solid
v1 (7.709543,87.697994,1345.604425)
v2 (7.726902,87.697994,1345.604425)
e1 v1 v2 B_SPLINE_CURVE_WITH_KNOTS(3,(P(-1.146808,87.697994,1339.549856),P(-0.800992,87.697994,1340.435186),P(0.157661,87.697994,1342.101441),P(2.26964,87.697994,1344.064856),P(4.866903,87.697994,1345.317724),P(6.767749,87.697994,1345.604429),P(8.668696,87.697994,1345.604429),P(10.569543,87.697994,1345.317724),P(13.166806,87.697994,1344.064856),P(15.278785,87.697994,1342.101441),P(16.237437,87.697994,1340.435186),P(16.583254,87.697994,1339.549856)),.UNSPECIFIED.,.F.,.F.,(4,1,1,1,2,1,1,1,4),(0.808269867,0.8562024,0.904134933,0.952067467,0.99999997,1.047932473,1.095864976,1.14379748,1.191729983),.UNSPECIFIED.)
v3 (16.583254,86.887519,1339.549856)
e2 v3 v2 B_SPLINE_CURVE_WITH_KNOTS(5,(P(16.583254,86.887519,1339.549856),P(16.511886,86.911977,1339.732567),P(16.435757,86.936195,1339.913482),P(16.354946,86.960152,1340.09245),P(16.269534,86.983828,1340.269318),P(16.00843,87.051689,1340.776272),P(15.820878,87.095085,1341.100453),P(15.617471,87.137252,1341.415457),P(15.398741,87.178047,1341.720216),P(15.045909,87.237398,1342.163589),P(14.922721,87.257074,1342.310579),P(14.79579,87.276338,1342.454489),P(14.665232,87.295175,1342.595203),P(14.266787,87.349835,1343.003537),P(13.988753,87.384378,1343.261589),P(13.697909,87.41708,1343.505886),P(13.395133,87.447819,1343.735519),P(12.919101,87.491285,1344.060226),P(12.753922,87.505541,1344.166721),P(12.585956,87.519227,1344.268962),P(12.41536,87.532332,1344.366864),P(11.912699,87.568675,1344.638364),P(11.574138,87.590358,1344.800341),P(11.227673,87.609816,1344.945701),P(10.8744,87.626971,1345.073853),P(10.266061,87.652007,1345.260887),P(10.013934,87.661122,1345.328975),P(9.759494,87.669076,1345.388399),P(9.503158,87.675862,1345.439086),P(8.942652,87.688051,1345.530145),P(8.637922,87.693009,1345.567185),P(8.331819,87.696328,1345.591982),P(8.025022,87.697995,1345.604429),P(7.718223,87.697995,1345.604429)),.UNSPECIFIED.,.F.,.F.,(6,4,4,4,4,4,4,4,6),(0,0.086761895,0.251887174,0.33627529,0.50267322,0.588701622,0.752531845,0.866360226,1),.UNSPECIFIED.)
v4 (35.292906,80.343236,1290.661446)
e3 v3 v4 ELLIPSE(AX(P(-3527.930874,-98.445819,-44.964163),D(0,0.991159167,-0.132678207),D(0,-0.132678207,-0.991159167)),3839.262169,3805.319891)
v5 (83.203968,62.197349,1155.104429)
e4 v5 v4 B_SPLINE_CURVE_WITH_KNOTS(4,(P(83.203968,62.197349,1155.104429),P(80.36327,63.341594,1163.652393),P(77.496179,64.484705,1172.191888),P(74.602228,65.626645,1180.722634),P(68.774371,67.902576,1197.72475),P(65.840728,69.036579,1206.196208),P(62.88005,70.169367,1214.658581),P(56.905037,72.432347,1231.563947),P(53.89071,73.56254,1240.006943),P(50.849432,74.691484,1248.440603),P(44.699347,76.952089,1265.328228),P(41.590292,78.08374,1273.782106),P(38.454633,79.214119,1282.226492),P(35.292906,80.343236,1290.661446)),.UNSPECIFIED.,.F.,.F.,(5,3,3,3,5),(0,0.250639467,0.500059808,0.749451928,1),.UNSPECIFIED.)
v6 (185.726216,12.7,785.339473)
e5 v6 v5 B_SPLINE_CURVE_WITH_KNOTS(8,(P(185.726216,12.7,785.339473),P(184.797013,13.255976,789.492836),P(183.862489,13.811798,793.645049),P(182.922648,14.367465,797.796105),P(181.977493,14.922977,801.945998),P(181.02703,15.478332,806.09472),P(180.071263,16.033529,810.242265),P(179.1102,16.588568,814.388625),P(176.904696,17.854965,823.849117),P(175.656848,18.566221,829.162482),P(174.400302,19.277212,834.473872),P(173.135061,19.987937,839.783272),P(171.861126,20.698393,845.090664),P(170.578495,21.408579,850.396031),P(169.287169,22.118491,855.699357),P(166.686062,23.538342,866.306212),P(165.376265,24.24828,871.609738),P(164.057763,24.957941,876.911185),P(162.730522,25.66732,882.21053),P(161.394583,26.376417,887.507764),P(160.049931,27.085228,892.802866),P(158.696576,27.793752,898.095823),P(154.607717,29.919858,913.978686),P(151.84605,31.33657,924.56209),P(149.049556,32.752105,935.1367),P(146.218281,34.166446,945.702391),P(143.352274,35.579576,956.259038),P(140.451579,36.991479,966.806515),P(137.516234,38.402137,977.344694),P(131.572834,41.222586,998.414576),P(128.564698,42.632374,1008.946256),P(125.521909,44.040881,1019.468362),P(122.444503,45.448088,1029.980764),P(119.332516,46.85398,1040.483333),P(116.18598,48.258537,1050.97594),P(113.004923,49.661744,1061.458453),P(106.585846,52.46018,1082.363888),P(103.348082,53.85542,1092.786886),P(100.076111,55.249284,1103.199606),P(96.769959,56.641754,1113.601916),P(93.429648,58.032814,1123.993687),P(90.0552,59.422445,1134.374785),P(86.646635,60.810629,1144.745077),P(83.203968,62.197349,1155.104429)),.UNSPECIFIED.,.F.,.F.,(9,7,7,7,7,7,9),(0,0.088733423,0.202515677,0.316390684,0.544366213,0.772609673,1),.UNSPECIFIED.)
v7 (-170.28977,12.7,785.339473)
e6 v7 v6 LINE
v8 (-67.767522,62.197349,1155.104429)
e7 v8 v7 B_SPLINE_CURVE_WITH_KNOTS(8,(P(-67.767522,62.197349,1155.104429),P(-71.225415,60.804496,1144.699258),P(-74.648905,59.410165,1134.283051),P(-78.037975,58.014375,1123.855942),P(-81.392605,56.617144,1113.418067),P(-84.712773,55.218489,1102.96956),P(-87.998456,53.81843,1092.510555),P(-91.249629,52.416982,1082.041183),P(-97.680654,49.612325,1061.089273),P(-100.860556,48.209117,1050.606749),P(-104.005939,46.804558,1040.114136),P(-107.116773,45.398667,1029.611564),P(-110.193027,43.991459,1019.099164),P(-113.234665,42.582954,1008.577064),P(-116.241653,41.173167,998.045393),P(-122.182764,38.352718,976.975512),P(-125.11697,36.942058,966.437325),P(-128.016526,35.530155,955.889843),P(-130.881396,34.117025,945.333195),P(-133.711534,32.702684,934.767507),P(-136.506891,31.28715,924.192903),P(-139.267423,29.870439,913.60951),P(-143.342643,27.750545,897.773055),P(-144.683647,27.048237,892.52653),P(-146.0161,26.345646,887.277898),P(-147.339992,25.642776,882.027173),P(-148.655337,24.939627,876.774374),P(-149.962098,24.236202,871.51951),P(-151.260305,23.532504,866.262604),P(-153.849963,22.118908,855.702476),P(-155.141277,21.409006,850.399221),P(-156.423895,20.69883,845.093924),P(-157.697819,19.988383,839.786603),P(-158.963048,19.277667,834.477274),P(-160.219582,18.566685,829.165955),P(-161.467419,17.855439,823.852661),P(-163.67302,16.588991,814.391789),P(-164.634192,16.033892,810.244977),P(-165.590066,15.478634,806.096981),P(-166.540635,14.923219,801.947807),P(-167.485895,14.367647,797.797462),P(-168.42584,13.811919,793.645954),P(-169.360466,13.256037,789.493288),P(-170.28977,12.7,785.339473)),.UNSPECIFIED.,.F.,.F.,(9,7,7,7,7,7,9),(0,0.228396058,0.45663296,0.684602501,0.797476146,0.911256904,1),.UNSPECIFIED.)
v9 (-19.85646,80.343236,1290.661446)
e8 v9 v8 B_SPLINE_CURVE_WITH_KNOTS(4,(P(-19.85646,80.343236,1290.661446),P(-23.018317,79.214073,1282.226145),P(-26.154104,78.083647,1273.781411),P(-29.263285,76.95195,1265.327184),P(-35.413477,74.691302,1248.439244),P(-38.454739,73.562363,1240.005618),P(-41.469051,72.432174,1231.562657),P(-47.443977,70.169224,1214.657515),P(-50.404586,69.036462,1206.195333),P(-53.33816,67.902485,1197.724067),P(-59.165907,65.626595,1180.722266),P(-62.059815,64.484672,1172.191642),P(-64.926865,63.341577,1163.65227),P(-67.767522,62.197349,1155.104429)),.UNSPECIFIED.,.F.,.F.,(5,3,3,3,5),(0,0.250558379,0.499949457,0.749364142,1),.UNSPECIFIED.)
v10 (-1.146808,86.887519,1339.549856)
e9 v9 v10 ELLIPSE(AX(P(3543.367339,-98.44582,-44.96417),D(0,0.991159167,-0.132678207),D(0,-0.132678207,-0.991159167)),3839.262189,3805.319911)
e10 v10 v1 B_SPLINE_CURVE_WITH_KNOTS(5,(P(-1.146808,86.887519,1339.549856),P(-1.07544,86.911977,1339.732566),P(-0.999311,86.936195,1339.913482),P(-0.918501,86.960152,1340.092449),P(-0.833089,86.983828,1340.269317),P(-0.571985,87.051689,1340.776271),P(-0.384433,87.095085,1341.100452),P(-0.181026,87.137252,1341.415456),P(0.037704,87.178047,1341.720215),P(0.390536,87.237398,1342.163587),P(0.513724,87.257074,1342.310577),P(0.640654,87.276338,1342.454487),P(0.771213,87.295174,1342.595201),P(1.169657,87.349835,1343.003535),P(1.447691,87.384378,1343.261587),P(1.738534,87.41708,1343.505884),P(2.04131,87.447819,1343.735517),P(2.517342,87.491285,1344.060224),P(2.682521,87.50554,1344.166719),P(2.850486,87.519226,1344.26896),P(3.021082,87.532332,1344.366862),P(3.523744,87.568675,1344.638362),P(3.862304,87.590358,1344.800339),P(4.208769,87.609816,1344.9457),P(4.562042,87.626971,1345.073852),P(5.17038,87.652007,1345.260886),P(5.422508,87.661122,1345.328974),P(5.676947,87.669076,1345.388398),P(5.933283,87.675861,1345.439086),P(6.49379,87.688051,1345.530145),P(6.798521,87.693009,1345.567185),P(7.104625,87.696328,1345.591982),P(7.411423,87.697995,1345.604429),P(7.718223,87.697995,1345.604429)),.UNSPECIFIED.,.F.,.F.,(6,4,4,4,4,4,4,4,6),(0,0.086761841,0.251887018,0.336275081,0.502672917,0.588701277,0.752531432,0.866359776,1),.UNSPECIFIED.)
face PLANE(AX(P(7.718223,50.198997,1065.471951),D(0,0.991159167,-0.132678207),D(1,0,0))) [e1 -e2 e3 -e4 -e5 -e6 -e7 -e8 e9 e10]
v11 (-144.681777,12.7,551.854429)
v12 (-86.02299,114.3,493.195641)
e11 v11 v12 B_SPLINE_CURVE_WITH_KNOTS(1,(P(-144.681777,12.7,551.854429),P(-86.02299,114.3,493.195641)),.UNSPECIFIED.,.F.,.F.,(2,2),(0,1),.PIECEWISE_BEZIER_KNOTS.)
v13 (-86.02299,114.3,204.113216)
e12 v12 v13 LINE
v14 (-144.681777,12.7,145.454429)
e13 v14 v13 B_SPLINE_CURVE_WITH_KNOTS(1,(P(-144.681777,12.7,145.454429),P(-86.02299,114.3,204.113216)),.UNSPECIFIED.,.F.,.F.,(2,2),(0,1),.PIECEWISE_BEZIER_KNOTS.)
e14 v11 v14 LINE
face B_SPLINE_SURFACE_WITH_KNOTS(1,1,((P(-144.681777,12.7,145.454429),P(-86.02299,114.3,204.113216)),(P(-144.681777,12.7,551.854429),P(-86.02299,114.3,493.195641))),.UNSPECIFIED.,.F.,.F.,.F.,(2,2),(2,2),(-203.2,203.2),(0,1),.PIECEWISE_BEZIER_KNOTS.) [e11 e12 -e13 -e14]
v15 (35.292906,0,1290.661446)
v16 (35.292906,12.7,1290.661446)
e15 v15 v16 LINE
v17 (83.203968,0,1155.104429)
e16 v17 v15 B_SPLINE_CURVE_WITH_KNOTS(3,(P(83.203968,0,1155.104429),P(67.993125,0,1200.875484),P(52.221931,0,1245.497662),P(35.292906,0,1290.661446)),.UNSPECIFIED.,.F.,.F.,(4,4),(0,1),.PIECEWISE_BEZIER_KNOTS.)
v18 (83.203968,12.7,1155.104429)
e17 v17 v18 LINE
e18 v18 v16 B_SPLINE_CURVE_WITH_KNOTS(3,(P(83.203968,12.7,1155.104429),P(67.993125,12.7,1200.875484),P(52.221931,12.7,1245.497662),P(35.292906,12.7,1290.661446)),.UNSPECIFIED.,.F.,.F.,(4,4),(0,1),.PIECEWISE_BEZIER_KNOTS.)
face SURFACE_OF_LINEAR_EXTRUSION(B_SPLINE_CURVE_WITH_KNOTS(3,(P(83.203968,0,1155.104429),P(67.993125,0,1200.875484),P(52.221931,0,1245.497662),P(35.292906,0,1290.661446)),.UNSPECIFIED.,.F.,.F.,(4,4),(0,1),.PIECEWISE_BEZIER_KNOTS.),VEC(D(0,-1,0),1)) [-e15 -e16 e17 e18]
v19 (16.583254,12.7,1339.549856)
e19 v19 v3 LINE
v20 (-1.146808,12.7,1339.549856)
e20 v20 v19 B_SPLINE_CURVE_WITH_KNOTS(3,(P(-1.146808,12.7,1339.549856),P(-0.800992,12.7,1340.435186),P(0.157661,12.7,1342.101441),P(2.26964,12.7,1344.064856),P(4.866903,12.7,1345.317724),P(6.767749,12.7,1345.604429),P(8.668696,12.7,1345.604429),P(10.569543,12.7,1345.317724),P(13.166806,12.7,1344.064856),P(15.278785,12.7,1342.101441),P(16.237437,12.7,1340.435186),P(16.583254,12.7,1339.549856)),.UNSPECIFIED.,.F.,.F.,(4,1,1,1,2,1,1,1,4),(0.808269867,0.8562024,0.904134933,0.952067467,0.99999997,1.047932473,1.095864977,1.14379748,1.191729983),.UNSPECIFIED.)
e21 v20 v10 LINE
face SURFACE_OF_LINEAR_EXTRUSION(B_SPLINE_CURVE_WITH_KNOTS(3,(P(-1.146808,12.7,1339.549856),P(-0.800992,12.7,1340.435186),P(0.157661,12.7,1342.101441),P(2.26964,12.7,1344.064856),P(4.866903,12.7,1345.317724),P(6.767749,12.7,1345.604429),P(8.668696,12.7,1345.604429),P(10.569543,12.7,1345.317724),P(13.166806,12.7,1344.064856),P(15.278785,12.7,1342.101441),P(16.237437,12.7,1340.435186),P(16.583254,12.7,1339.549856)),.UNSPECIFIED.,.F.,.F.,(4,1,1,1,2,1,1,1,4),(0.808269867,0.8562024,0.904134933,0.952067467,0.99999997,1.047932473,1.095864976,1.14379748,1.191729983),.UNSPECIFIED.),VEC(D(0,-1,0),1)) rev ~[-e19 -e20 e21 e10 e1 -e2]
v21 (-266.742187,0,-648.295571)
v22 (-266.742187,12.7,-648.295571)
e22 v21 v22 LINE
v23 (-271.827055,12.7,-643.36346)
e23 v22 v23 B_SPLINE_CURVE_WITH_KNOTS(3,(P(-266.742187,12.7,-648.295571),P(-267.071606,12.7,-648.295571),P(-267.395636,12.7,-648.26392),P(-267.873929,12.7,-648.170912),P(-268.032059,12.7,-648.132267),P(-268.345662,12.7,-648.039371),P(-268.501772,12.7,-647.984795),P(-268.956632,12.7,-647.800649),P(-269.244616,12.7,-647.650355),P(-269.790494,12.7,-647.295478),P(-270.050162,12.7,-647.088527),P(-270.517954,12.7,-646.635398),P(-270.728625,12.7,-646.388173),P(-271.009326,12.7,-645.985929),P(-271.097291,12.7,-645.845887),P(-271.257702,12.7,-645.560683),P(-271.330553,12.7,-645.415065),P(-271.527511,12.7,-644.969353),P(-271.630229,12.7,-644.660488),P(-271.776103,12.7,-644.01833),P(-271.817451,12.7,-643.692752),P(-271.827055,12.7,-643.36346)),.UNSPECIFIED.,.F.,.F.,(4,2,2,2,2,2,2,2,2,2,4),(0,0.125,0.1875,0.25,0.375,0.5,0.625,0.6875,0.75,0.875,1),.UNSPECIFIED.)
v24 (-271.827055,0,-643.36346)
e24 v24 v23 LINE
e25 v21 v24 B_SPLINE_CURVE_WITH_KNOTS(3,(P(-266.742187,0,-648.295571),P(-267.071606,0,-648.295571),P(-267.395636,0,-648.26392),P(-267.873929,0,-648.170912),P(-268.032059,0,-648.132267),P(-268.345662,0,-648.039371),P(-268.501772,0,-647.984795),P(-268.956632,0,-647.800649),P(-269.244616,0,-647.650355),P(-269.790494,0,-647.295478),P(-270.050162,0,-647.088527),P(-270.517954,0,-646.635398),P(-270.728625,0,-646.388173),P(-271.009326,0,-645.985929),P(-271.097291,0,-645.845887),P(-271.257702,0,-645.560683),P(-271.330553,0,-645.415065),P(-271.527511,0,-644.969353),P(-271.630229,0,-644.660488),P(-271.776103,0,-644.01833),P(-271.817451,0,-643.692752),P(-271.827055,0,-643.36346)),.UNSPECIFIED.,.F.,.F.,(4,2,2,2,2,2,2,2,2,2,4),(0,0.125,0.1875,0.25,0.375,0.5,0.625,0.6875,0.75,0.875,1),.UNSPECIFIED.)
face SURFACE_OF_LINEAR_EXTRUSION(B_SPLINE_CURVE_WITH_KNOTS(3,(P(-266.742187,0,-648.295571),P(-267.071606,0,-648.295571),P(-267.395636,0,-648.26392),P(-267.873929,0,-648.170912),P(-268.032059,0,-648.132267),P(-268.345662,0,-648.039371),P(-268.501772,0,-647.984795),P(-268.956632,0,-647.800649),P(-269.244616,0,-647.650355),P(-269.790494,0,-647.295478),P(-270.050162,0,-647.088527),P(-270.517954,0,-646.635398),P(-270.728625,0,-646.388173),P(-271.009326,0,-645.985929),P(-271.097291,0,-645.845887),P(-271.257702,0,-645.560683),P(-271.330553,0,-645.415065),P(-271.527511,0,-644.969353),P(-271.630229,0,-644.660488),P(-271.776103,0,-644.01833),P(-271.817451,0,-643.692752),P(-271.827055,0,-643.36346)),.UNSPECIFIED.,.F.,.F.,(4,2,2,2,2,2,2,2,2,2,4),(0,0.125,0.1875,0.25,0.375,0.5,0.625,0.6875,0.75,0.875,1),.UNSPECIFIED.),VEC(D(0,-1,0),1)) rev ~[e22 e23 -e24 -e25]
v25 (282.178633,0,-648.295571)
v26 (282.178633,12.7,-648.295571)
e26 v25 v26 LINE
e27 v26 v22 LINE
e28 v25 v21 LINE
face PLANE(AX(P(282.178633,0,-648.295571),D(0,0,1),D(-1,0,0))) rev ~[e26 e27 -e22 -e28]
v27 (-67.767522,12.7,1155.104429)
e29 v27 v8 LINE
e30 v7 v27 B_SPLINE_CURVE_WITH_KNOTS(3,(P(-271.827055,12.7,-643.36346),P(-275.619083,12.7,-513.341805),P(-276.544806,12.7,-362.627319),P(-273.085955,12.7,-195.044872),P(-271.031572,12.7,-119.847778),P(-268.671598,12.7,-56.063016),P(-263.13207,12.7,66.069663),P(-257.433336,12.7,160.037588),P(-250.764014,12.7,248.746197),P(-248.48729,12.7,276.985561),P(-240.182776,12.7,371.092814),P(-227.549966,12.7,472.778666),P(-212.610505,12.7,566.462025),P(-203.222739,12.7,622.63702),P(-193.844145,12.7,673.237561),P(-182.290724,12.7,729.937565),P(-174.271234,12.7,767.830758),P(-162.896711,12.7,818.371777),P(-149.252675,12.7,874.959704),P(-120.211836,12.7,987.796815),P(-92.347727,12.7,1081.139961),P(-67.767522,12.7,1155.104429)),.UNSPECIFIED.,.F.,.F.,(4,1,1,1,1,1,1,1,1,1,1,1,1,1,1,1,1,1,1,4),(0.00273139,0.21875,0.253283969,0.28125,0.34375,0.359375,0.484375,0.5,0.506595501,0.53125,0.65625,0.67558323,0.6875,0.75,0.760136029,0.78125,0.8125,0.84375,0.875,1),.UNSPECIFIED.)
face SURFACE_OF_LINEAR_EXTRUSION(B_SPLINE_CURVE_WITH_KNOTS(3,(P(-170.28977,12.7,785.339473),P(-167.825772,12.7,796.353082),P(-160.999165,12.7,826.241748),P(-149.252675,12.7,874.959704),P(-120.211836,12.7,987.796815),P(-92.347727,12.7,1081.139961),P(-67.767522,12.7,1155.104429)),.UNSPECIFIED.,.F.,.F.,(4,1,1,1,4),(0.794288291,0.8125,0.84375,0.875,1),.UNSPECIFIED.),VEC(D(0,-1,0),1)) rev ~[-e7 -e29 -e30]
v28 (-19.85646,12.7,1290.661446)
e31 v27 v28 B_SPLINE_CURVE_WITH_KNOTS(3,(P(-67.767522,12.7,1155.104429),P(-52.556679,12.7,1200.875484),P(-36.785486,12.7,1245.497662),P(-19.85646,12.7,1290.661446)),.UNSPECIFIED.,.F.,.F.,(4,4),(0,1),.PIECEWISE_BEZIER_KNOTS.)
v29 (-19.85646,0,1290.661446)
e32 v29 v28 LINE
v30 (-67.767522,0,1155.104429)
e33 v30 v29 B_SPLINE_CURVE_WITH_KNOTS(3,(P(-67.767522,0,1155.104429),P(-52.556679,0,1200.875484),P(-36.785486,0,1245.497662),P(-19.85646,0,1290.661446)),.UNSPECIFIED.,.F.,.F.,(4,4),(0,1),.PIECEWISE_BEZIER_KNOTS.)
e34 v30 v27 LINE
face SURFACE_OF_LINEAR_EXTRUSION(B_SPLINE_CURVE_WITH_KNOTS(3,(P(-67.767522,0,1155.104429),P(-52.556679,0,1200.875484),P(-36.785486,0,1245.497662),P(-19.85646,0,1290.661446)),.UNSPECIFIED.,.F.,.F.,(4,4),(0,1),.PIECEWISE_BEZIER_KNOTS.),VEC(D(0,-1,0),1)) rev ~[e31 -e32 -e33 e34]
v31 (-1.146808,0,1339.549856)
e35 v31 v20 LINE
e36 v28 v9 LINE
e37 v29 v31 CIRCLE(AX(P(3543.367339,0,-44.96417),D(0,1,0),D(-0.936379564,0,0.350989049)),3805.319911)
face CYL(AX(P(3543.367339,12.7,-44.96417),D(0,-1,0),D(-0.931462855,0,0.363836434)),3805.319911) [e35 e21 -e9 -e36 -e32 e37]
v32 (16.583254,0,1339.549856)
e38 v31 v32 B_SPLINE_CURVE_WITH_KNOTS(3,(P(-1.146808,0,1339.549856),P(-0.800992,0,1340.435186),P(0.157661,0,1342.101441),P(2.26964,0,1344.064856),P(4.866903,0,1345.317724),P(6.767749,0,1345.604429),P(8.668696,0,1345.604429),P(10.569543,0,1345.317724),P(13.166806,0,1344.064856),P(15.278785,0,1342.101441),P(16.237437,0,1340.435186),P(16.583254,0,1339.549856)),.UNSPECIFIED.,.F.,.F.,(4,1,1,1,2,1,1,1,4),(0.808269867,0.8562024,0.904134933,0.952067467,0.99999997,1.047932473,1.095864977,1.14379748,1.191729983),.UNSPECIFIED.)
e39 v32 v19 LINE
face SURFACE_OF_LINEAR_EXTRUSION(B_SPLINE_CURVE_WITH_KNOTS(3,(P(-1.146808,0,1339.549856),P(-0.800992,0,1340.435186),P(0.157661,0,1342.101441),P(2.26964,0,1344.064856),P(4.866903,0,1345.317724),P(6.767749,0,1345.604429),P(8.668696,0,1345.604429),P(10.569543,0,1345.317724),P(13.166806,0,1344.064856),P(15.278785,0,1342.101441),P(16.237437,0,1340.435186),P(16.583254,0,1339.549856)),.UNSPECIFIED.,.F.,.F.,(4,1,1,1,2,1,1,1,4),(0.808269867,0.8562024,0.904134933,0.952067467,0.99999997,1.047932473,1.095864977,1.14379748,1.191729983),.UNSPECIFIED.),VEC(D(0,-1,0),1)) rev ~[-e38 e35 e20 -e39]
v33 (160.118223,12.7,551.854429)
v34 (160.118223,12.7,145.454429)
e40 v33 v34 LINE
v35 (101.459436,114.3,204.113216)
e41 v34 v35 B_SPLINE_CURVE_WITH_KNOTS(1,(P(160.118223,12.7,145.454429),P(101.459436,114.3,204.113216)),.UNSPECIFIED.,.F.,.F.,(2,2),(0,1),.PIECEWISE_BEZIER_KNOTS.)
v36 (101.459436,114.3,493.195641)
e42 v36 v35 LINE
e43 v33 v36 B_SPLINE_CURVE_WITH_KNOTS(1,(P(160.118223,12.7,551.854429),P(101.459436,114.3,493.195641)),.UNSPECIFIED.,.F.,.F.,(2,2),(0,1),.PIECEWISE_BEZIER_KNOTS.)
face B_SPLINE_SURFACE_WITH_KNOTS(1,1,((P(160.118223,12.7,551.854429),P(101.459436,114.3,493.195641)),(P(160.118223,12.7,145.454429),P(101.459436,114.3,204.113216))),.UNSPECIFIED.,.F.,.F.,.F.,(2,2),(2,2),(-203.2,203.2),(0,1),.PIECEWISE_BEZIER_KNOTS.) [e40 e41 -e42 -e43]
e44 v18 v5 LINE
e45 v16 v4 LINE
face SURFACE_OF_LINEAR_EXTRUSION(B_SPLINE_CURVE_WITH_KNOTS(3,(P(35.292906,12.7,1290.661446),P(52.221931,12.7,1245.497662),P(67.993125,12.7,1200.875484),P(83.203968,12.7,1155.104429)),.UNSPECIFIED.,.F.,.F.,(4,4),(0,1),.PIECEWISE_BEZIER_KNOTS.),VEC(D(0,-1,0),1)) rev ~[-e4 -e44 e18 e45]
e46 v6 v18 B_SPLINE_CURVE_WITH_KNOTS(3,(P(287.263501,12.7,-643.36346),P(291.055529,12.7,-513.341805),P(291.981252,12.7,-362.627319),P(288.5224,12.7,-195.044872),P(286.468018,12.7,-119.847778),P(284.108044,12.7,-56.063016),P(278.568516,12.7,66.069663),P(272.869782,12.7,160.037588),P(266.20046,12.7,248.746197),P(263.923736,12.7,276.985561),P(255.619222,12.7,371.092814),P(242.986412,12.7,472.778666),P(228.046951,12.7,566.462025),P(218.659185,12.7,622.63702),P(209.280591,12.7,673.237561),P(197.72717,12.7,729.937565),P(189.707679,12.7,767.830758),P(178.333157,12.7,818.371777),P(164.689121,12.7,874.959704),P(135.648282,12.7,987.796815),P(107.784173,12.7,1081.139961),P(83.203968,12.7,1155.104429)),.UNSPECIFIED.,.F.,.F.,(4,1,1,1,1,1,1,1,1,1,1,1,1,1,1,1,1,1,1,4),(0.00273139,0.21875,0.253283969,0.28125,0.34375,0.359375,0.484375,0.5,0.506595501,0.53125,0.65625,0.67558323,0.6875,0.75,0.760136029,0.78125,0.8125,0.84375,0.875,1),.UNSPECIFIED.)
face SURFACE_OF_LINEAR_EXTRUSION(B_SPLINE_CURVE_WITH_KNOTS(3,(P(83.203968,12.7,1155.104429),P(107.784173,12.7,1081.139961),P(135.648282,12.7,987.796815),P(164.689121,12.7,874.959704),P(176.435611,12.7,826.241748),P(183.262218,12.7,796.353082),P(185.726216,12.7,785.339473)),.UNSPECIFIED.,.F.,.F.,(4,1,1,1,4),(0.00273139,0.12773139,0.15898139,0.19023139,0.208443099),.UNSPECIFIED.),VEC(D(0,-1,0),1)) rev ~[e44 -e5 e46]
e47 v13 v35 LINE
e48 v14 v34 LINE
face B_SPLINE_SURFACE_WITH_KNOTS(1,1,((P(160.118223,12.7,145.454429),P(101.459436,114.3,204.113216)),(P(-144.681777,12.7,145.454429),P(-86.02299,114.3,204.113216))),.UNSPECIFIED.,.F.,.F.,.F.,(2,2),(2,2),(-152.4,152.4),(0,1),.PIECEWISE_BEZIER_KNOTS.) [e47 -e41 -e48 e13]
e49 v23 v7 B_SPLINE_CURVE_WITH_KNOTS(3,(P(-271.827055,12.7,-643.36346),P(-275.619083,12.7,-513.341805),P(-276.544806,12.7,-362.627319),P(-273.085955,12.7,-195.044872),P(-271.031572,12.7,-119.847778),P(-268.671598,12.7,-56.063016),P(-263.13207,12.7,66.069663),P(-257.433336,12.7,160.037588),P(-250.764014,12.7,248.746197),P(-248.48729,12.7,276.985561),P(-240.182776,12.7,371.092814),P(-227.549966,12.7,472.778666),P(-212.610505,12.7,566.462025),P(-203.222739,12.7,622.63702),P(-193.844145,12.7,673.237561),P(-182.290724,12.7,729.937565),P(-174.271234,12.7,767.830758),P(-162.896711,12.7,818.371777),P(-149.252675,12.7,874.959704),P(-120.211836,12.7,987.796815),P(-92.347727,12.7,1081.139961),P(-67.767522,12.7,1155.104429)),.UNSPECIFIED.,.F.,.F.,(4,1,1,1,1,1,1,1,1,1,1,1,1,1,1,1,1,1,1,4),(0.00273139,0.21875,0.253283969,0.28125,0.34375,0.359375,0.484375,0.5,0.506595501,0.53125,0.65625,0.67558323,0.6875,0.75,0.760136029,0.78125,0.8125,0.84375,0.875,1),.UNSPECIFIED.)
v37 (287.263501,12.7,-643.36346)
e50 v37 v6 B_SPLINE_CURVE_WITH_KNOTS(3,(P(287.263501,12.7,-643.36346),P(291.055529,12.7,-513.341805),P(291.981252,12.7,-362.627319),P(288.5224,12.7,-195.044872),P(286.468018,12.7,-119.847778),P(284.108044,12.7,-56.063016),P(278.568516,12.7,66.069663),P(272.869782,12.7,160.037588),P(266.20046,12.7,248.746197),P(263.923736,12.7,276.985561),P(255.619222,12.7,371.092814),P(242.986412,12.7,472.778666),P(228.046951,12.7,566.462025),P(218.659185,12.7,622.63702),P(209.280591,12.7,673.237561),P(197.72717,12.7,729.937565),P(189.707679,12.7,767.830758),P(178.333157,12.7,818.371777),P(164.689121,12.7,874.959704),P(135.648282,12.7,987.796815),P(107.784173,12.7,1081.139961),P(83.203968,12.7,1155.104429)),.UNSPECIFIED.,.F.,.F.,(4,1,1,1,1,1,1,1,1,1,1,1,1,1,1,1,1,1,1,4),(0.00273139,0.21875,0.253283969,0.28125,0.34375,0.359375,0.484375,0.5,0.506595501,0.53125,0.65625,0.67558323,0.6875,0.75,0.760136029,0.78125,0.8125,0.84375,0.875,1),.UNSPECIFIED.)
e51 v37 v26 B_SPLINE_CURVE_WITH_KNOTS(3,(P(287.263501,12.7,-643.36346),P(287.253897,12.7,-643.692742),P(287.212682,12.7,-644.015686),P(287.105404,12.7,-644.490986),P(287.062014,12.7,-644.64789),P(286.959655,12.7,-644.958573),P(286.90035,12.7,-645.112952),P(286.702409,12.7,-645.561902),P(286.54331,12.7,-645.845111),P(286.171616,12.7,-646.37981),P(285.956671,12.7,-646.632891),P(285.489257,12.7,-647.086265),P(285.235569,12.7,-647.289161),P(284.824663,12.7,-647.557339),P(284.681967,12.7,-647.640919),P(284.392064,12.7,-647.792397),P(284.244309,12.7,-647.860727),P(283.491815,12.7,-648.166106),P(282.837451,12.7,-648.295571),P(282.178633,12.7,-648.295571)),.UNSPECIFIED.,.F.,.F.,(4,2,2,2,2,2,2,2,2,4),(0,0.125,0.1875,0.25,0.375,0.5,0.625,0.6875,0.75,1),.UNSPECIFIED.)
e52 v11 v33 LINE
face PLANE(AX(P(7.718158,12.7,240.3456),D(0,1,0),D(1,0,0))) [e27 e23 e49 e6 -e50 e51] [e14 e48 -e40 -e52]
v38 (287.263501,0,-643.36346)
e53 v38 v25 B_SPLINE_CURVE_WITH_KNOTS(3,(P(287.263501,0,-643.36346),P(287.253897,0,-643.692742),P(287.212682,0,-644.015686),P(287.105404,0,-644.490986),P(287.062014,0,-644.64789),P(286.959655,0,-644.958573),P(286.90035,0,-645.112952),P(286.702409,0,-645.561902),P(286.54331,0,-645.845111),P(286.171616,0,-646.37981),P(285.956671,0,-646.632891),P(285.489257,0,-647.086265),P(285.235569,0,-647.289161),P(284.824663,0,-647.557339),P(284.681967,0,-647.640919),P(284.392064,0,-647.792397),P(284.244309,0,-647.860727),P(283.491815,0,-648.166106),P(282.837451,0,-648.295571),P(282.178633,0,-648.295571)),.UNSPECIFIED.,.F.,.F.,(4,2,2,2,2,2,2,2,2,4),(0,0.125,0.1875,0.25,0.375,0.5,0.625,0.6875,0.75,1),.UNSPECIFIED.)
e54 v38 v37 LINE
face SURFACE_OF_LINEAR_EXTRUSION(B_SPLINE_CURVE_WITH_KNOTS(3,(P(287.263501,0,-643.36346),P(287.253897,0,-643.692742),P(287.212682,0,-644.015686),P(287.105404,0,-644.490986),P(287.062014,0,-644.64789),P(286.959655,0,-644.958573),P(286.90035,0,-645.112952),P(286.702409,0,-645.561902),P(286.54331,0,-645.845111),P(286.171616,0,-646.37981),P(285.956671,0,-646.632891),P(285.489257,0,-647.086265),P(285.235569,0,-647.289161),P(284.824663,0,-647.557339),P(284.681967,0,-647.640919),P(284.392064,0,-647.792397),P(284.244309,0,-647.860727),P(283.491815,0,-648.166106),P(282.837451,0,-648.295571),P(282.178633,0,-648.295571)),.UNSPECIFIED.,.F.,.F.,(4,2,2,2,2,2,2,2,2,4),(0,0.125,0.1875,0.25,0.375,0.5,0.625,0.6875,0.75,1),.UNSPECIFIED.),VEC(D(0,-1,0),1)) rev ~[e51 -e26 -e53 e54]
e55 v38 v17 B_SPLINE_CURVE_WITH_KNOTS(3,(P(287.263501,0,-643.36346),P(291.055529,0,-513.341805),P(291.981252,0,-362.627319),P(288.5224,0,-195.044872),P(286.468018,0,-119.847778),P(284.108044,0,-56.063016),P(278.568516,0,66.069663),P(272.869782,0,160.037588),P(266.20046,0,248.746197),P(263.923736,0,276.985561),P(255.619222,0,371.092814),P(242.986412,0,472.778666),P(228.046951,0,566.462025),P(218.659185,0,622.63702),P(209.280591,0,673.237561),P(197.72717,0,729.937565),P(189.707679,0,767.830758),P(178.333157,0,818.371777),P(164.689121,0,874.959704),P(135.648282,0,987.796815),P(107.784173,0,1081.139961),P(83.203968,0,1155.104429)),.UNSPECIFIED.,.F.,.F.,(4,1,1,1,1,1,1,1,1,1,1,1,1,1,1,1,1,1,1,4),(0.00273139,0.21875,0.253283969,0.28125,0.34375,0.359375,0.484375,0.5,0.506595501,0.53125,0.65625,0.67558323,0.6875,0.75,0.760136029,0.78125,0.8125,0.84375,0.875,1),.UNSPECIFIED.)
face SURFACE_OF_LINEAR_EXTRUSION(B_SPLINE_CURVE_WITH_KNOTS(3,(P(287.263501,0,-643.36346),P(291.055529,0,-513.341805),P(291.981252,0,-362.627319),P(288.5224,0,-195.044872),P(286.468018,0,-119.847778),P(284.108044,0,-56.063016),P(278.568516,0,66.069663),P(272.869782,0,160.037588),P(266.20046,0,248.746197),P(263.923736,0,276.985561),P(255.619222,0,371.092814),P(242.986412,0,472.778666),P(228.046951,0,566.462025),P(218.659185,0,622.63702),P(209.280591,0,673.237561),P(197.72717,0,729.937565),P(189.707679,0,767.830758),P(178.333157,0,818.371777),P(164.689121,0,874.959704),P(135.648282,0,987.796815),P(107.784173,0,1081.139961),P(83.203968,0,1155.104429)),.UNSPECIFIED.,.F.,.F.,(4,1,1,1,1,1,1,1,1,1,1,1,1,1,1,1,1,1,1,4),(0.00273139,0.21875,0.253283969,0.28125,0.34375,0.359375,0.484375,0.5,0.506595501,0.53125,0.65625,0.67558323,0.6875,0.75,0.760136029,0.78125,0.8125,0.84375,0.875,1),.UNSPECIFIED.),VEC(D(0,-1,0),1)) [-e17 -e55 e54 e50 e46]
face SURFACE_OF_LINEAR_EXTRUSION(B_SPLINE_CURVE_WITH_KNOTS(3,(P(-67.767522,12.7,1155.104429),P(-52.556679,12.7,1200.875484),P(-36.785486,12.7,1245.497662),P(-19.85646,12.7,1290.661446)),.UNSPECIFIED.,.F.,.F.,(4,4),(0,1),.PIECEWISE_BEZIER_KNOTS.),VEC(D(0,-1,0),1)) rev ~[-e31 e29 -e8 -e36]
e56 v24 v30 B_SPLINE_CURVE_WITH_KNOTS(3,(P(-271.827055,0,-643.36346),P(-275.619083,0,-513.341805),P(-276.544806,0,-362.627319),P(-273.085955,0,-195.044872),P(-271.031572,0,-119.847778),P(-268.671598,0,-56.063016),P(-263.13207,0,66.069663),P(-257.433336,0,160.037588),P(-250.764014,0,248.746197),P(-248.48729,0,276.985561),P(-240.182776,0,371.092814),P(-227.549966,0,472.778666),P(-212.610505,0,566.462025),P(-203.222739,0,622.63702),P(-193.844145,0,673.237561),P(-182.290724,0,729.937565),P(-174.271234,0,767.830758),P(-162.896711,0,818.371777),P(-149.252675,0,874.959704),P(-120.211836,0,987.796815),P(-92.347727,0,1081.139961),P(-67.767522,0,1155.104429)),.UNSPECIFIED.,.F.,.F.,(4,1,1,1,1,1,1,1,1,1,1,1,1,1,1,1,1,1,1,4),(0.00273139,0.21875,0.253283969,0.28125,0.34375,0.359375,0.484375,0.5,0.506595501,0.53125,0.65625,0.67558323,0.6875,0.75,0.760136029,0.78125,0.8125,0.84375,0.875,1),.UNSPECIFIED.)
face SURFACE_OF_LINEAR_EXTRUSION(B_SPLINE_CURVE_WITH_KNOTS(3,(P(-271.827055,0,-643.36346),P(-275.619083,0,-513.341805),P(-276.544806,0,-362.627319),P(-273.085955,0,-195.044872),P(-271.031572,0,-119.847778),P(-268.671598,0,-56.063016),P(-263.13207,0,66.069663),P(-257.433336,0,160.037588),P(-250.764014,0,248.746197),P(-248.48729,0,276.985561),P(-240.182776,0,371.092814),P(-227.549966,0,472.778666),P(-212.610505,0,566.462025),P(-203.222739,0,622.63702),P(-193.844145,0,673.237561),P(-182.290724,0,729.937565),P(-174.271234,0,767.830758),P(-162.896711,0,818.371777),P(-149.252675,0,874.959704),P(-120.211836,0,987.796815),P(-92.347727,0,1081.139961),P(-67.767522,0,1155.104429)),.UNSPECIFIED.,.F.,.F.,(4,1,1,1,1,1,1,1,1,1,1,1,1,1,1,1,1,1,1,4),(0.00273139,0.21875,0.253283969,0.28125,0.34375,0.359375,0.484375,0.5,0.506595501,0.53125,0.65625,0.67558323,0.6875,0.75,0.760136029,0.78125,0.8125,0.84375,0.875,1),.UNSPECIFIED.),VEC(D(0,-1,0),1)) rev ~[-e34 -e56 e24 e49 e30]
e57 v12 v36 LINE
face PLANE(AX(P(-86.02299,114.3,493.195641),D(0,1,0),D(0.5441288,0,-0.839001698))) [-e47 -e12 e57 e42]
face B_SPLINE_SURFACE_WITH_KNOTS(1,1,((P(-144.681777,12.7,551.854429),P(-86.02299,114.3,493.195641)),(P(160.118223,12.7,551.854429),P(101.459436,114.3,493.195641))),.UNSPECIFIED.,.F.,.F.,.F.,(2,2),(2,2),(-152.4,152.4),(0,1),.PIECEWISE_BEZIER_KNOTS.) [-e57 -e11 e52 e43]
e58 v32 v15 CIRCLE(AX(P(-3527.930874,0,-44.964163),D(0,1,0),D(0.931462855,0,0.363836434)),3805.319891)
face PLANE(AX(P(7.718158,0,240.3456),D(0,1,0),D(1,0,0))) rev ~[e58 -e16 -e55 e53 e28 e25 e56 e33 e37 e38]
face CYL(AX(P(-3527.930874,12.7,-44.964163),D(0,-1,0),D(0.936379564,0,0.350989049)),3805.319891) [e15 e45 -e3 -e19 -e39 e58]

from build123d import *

# Parameters (mm, degrees)
BOSS_EXTRUDE1_DEPTH     = 12.7
SKETCH2_W               = 304.8
SKETCH2_H               = 406.4
BOSS_EXTRUDE2_DEPTH     = 101.6
BOSS_EXTRUDE2_TAPER     = 30
BOSS_EXTRUDE3_DEPTH     = 74.997994
SKETCH7_W               = 508
SKETCH7_H               = 565.262345734
CUT_EXTRUDE_THIN1_DEPTH = 88.9


with BuildPart() as part:
    # Sketch1 → Boss-Extrude1 (new body)
    with BuildSketch(Plane(origin=(0, 0, 0), x_dir=(1, 0, 0), z_dir=(0, 1, 0))):
        with BuildLine():
            Line((282.178632733, 648.295571298), (-266.742186919, 648.295571298))
            add(Edge.make_bspline(
                [(-266.742186919, 648.295571298), (-267.071605745, 648.295571298), (-267.395635709, 648.263919559), (-267.873929001, 648.170912239), (-268.032058898, 648.132267139), (-268.345661652, 648.039370684), (-268.50177233, 647.984795184), (-268.956632468, 647.800648785), (-269.244615581, 647.650355056), (-269.790494311, 647.295478174), (-270.050162442, 647.088526762), (-270.517954254, 646.635397593), (-270.728625138, 646.388172726), (-271.009326112, 645.985928841), (-271.097290935, 645.845887253), (-271.257701503, 645.560682787), (-271.330552726, 645.415064516), (-271.527511364, 644.969353179), (-271.630228502, 644.660487559), (-271.776102581, 644.018329571), (-271.817451265, 643.692751749), (-271.827054921, 643.363460144)],
                knots=[0, 0, 0, 0, 0.125, 0.125, 0.1875, 0.1875, 0.25, 0.25, 0.375, 0.375, 0.5, 0.5, 0.625, 0.625, 0.6875, 0.6875, 0.75, 0.75, 0.875, 0.875, 1, 1, 1, 1], degree=3))
            add(Edge.make_bspline(
                [(-271.827054921, 643.363460144), (-275.619083406, 513.341805118), (-276.544805746, 362.627319415), (-273.085954654, 195.044872043), (-271.031571931, 119.847777975), (-268.671598158, 56.063015866), (-263.132069886, -66.069662637), (-257.433335824, -160.037587725), (-250.764013725, -248.746196584), (-248.487290338, -276.985560905), (-240.18277645, -371.092813978), (-227.549965864, -472.778666072), (-212.610504693, -566.462025361), (-203.222738687, -622.637020096), (-193.844144823, -673.237560968), (-182.290724358, -729.93756534), (-174.271233518, -767.830757671), (-162.896711093, -818.371776774), (-149.252675491, -874.959703685), (-120.211836445, -987.796815407), (-92.347727316, -1081.139961257), (-67.767522398, -1155.104428702)],
                knots=[0.00273139, 0.00273139, 0.00273139, 0.00273139, 0.21875, 0.253283969, 0.28125, 0.34375, 0.359375, 0.484375, 0.5, 0.506595501, 0.53125, 0.65625, 0.67558323, 0.6875, 0.75, 0.760136029, 0.78125, 0.8125, 0.84375, 0.875, 1, 1, 1, 1], degree=3))
            add(Edge.make_bspline(
                [(-67.767522398, -1155.104428702), (-52.556679091, -1200.875484247), (-36.785485559, -1245.497662336), (-19.856460022, -1290.661446214)],
                knots=[0, 0, 0, 0, 1, 1, 1, 1], degree=3))
            ThreePointArc((-19.856460022, -1290.661446214), (-10.585699255, -1315.137822671), (-1.146808464, -1339.549855571))
            add(Edge.make_bspline(
                [(-1.146808464, -1339.549855571), (-0.800991585, -1340.435186307), (0.157660597, -1342.101440742), (2.269639684, -1344.064855704), (4.866902728, -1345.317723875), (6.767749431, -1345.604428702), (7.718222907, -1345.604428702)],
                knots=[0.808269867, 0.808269867, 0.808269867, 0.808269867, 0.8562024, 0.904134933, 0.952067467, 0.99999997, 0.99999997, 0.99999997, 0.99999997], degree=3))
            add(Edge.make_bspline(
                [(16.583254278, -1339.549855571), (16.237437398, -1340.435186307), (15.278785216, -1342.101440742), (13.16680613, -1344.064855704), (10.569543086, -1345.317723875), (8.668696382, -1345.604428702), (7.718222907, -1345.604428702)],
                knots=[0.808269867, 0.808269867, 0.808269867, 0.808269867, 0.8562024, 0.904134933, 0.952067467, 1, 1, 1, 1], degree=3))
            ThreePointArc((16.583254278, -1339.549855571), (26.022145069, -1315.137822671), (35.292905835, -1290.661446214))
            add(Edge.make_bspline(
                [(83.203968212, -1155.104428702), (67.993124905, -1200.875484247), (52.221931373, -1245.497662336), (35.292905835, -1290.661446214)],
                knots=[0, 0, 0, 0, 1, 1, 1, 1], degree=3))
            add(Edge.make_bspline(
                [(287.263500734, 643.363460144), (291.055529219, 513.341805118), (291.98125156, 362.627319415), (288.522400468, 195.044872043), (286.468017744, 119.847777975), (284.108043971, 56.063015866), (278.568515699, -66.069662637), (272.869781637, -160.037587725), (266.200459538, -248.746196584), (263.923736151, -276.985560905), (255.619222264, -371.092813978), (242.986411678, -472.778666072), (228.046950506, -566.462025361), (218.659184501, -622.637020096), (209.280590637, -673.237560968), (197.727170171, -729.93756534), (189.707679331, -767.830757671), (178.333156907, -818.371776774), (164.689121304, -874.959703685), (135.648282259, -987.796815407), (107.78417313, -1081.139961257), (83.203968212, -1155.104428702)],
                knots=[0.00273139, 0.00273139, 0.00273139, 0.00273139, 0.21875, 0.253283969, 0.28125, 0.34375, 0.359375, 0.484375, 0.5, 0.506595501, 0.53125, 0.65625, 0.67558323, 0.6875, 0.75, 0.760136029, 0.78125, 0.8125, 0.84375, 0.875, 1, 1, 1, 1], degree=3))
            add(Edge.make_bspline(
                [(287.263500734, 643.363460144), (287.253897353, 643.692742337), (287.212682478, 644.015685877), (287.105404307, 644.490986496), (287.062014477, 644.64789), (286.959654545, 644.958572893), (286.900349557, 645.112951735), (286.70240916, 645.561902127), (286.54331042, 645.845111412), (286.171615525, 646.379810232), (285.956670805, 646.632890984), (285.489257001, 647.086264872), (285.235568792, 647.289160564), (284.824662826, 647.557338937), (284.681966904, 647.640918903), (284.392063507, 647.792397056), (284.244309066, 647.860727323), (283.491814956, 648.166105966), (282.837451466, 648.295571298), (282.178632733, 648.295571298)],
                knots=[0, 0, 0, 0, 0.125, 0.125, 0.1875, 0.1875, 0.25, 0.25, 0.375, 0.375, 0.5, 0.5, 0.625, 0.625, 0.6875, 0.6875, 0.75, 0.75, 1, 1, 1, 1], degree=3))
        make_face()
    extrude(amount=BOSS_EXTRUDE1_DEPTH)

    # Sketch2 → Boss-Extrude2 (add)
    with BuildSketch(Plane(origin=(0, 12.7, 0), x_dir=(1, 0, 0), z_dir=(0, 1, 0))):
        with Locations((7.718222907, -348.654428702)):
            Rectangle(SKETCH2_W, SKETCH2_H)
    extrude(amount=BOSS_EXTRUDE2_DEPTH, taper=BOSS_EXTRUDE2_TAPER)

    # Sketch4 → Boss-Extrude3 (add)
    with BuildSketch(Plane(origin=(0, 12.7, 0), x_dir=(1, 0, 0), z_dir=(0, 1, 0))):
        with BuildLine():
            Line((-170.289770142, -785.339473227), (185.726215956, -785.339473227))
            add(Edge.make_bspline(
                [(83.203968212, -1155.104428702), (107.78417313, -1081.139961257), (135.648282259, -987.796815407), (164.689121304, -874.959703685), (176.435611281, -826.241748411), (183.262218235, -796.353082345), (185.726215956, -785.339473227)],
                knots=[0.00273139, 0.00273139, 0.00273139, 0.00273139, 0.12773139, 0.15898139, 0.19023139, 0.208443099, 0.208443099, 0.208443099, 0.208443099], degree=3))
            add(Edge.make_bspline(
                [(35.292905835, -1290.661446214), (52.221931373, -1245.497662336), (67.993124905, -1200.875484247), (83.203968212, -1155.104428702)],
                knots=[0, 0, 0, 0, 1, 1, 1, 1], degree=3))
            ThreePointArc((35.292905835, -1290.661446214), (26.022145069, -1315.137822671), (16.583254278, -1339.549855571))
            add(Edge.make_bspline(
                [(7.718222907, -1345.604428702), (8.668696382, -1345.604428702), (10.569543086, -1345.317723875), (13.16680613, -1344.064855704), (15.278785216, -1342.101440742), (16.237437398, -1340.435186307), (16.583254278, -1339.549855571)],
                knots=[0.808269867, 0.808269867, 0.808269867, 0.808269867, 0.8562024, 0.904134933, 0.952067467, 1, 1, 1, 1], degree=3))
            add(Edge.make_bspline(
                [(-1.146808464, -1339.549855571), (-0.800991585, -1340.435186307), (0.157660597, -1342.101440742), (2.269639684, -1344.064855704), (4.866902728, -1345.317723875), (6.767749431, -1345.604428702), (7.718222907, -1345.604428702)],
                knots=[0.808269867, 0.808269867, 0.808269867, 0.808269867, 0.8562024, 0.904134933, 0.952067467, 0.99999997, 0.99999997, 0.99999997, 0.99999997], degree=3))
            ThreePointArc((-1.146808464, -1339.549855571), (-10.585699255, -1315.137822671), (-19.856460022, -1290.661446214))
            add(Edge.make_bspline(
                [(-67.767522398, -1155.104428702), (-52.556679091, -1200.875484247), (-36.785485559, -1245.497662336), (-19.856460022, -1290.661446214)],
                knots=[0, 0, 0, 0, 1, 1, 1, 1], degree=3))
            add(Edge.make_bspline(
                [(-170.289770142, -785.339473227), (-167.825772422, -796.353082345), (-160.999165467, -826.241748411), (-149.252675491, -874.959703685), (-120.211836445, -987.796815407), (-92.347727316, -1081.139961257), (-67.767522398, -1155.104428702)],
                knots=[0.794288291, 0.794288291, 0.794288291, 0.794288291, 0.8125, 0.84375, 0.875, 1, 1, 1, 1], degree=3))
        make_face()
    extrude(amount=BOSS_EXTRUDE3_DEPTH)

    # Sketch7 → Cut-Extrude-Thin1 (cut)
    with BuildSketch(Plane(origin=(0, -90.799805475, 12.154612278), x_dir=(1, 0, 0), z_dir=(0, 0.991159167, -0.132678207))):
        with Locations((7.718222907, -1062.71260383)):
            Rectangle(SKETCH7_W, SKETCH7_H)
    extrude(amount=CUT_EXTRUDE_THIN1_DEPTH, mode=Mode.SUBTRACT)


solid = part.part
